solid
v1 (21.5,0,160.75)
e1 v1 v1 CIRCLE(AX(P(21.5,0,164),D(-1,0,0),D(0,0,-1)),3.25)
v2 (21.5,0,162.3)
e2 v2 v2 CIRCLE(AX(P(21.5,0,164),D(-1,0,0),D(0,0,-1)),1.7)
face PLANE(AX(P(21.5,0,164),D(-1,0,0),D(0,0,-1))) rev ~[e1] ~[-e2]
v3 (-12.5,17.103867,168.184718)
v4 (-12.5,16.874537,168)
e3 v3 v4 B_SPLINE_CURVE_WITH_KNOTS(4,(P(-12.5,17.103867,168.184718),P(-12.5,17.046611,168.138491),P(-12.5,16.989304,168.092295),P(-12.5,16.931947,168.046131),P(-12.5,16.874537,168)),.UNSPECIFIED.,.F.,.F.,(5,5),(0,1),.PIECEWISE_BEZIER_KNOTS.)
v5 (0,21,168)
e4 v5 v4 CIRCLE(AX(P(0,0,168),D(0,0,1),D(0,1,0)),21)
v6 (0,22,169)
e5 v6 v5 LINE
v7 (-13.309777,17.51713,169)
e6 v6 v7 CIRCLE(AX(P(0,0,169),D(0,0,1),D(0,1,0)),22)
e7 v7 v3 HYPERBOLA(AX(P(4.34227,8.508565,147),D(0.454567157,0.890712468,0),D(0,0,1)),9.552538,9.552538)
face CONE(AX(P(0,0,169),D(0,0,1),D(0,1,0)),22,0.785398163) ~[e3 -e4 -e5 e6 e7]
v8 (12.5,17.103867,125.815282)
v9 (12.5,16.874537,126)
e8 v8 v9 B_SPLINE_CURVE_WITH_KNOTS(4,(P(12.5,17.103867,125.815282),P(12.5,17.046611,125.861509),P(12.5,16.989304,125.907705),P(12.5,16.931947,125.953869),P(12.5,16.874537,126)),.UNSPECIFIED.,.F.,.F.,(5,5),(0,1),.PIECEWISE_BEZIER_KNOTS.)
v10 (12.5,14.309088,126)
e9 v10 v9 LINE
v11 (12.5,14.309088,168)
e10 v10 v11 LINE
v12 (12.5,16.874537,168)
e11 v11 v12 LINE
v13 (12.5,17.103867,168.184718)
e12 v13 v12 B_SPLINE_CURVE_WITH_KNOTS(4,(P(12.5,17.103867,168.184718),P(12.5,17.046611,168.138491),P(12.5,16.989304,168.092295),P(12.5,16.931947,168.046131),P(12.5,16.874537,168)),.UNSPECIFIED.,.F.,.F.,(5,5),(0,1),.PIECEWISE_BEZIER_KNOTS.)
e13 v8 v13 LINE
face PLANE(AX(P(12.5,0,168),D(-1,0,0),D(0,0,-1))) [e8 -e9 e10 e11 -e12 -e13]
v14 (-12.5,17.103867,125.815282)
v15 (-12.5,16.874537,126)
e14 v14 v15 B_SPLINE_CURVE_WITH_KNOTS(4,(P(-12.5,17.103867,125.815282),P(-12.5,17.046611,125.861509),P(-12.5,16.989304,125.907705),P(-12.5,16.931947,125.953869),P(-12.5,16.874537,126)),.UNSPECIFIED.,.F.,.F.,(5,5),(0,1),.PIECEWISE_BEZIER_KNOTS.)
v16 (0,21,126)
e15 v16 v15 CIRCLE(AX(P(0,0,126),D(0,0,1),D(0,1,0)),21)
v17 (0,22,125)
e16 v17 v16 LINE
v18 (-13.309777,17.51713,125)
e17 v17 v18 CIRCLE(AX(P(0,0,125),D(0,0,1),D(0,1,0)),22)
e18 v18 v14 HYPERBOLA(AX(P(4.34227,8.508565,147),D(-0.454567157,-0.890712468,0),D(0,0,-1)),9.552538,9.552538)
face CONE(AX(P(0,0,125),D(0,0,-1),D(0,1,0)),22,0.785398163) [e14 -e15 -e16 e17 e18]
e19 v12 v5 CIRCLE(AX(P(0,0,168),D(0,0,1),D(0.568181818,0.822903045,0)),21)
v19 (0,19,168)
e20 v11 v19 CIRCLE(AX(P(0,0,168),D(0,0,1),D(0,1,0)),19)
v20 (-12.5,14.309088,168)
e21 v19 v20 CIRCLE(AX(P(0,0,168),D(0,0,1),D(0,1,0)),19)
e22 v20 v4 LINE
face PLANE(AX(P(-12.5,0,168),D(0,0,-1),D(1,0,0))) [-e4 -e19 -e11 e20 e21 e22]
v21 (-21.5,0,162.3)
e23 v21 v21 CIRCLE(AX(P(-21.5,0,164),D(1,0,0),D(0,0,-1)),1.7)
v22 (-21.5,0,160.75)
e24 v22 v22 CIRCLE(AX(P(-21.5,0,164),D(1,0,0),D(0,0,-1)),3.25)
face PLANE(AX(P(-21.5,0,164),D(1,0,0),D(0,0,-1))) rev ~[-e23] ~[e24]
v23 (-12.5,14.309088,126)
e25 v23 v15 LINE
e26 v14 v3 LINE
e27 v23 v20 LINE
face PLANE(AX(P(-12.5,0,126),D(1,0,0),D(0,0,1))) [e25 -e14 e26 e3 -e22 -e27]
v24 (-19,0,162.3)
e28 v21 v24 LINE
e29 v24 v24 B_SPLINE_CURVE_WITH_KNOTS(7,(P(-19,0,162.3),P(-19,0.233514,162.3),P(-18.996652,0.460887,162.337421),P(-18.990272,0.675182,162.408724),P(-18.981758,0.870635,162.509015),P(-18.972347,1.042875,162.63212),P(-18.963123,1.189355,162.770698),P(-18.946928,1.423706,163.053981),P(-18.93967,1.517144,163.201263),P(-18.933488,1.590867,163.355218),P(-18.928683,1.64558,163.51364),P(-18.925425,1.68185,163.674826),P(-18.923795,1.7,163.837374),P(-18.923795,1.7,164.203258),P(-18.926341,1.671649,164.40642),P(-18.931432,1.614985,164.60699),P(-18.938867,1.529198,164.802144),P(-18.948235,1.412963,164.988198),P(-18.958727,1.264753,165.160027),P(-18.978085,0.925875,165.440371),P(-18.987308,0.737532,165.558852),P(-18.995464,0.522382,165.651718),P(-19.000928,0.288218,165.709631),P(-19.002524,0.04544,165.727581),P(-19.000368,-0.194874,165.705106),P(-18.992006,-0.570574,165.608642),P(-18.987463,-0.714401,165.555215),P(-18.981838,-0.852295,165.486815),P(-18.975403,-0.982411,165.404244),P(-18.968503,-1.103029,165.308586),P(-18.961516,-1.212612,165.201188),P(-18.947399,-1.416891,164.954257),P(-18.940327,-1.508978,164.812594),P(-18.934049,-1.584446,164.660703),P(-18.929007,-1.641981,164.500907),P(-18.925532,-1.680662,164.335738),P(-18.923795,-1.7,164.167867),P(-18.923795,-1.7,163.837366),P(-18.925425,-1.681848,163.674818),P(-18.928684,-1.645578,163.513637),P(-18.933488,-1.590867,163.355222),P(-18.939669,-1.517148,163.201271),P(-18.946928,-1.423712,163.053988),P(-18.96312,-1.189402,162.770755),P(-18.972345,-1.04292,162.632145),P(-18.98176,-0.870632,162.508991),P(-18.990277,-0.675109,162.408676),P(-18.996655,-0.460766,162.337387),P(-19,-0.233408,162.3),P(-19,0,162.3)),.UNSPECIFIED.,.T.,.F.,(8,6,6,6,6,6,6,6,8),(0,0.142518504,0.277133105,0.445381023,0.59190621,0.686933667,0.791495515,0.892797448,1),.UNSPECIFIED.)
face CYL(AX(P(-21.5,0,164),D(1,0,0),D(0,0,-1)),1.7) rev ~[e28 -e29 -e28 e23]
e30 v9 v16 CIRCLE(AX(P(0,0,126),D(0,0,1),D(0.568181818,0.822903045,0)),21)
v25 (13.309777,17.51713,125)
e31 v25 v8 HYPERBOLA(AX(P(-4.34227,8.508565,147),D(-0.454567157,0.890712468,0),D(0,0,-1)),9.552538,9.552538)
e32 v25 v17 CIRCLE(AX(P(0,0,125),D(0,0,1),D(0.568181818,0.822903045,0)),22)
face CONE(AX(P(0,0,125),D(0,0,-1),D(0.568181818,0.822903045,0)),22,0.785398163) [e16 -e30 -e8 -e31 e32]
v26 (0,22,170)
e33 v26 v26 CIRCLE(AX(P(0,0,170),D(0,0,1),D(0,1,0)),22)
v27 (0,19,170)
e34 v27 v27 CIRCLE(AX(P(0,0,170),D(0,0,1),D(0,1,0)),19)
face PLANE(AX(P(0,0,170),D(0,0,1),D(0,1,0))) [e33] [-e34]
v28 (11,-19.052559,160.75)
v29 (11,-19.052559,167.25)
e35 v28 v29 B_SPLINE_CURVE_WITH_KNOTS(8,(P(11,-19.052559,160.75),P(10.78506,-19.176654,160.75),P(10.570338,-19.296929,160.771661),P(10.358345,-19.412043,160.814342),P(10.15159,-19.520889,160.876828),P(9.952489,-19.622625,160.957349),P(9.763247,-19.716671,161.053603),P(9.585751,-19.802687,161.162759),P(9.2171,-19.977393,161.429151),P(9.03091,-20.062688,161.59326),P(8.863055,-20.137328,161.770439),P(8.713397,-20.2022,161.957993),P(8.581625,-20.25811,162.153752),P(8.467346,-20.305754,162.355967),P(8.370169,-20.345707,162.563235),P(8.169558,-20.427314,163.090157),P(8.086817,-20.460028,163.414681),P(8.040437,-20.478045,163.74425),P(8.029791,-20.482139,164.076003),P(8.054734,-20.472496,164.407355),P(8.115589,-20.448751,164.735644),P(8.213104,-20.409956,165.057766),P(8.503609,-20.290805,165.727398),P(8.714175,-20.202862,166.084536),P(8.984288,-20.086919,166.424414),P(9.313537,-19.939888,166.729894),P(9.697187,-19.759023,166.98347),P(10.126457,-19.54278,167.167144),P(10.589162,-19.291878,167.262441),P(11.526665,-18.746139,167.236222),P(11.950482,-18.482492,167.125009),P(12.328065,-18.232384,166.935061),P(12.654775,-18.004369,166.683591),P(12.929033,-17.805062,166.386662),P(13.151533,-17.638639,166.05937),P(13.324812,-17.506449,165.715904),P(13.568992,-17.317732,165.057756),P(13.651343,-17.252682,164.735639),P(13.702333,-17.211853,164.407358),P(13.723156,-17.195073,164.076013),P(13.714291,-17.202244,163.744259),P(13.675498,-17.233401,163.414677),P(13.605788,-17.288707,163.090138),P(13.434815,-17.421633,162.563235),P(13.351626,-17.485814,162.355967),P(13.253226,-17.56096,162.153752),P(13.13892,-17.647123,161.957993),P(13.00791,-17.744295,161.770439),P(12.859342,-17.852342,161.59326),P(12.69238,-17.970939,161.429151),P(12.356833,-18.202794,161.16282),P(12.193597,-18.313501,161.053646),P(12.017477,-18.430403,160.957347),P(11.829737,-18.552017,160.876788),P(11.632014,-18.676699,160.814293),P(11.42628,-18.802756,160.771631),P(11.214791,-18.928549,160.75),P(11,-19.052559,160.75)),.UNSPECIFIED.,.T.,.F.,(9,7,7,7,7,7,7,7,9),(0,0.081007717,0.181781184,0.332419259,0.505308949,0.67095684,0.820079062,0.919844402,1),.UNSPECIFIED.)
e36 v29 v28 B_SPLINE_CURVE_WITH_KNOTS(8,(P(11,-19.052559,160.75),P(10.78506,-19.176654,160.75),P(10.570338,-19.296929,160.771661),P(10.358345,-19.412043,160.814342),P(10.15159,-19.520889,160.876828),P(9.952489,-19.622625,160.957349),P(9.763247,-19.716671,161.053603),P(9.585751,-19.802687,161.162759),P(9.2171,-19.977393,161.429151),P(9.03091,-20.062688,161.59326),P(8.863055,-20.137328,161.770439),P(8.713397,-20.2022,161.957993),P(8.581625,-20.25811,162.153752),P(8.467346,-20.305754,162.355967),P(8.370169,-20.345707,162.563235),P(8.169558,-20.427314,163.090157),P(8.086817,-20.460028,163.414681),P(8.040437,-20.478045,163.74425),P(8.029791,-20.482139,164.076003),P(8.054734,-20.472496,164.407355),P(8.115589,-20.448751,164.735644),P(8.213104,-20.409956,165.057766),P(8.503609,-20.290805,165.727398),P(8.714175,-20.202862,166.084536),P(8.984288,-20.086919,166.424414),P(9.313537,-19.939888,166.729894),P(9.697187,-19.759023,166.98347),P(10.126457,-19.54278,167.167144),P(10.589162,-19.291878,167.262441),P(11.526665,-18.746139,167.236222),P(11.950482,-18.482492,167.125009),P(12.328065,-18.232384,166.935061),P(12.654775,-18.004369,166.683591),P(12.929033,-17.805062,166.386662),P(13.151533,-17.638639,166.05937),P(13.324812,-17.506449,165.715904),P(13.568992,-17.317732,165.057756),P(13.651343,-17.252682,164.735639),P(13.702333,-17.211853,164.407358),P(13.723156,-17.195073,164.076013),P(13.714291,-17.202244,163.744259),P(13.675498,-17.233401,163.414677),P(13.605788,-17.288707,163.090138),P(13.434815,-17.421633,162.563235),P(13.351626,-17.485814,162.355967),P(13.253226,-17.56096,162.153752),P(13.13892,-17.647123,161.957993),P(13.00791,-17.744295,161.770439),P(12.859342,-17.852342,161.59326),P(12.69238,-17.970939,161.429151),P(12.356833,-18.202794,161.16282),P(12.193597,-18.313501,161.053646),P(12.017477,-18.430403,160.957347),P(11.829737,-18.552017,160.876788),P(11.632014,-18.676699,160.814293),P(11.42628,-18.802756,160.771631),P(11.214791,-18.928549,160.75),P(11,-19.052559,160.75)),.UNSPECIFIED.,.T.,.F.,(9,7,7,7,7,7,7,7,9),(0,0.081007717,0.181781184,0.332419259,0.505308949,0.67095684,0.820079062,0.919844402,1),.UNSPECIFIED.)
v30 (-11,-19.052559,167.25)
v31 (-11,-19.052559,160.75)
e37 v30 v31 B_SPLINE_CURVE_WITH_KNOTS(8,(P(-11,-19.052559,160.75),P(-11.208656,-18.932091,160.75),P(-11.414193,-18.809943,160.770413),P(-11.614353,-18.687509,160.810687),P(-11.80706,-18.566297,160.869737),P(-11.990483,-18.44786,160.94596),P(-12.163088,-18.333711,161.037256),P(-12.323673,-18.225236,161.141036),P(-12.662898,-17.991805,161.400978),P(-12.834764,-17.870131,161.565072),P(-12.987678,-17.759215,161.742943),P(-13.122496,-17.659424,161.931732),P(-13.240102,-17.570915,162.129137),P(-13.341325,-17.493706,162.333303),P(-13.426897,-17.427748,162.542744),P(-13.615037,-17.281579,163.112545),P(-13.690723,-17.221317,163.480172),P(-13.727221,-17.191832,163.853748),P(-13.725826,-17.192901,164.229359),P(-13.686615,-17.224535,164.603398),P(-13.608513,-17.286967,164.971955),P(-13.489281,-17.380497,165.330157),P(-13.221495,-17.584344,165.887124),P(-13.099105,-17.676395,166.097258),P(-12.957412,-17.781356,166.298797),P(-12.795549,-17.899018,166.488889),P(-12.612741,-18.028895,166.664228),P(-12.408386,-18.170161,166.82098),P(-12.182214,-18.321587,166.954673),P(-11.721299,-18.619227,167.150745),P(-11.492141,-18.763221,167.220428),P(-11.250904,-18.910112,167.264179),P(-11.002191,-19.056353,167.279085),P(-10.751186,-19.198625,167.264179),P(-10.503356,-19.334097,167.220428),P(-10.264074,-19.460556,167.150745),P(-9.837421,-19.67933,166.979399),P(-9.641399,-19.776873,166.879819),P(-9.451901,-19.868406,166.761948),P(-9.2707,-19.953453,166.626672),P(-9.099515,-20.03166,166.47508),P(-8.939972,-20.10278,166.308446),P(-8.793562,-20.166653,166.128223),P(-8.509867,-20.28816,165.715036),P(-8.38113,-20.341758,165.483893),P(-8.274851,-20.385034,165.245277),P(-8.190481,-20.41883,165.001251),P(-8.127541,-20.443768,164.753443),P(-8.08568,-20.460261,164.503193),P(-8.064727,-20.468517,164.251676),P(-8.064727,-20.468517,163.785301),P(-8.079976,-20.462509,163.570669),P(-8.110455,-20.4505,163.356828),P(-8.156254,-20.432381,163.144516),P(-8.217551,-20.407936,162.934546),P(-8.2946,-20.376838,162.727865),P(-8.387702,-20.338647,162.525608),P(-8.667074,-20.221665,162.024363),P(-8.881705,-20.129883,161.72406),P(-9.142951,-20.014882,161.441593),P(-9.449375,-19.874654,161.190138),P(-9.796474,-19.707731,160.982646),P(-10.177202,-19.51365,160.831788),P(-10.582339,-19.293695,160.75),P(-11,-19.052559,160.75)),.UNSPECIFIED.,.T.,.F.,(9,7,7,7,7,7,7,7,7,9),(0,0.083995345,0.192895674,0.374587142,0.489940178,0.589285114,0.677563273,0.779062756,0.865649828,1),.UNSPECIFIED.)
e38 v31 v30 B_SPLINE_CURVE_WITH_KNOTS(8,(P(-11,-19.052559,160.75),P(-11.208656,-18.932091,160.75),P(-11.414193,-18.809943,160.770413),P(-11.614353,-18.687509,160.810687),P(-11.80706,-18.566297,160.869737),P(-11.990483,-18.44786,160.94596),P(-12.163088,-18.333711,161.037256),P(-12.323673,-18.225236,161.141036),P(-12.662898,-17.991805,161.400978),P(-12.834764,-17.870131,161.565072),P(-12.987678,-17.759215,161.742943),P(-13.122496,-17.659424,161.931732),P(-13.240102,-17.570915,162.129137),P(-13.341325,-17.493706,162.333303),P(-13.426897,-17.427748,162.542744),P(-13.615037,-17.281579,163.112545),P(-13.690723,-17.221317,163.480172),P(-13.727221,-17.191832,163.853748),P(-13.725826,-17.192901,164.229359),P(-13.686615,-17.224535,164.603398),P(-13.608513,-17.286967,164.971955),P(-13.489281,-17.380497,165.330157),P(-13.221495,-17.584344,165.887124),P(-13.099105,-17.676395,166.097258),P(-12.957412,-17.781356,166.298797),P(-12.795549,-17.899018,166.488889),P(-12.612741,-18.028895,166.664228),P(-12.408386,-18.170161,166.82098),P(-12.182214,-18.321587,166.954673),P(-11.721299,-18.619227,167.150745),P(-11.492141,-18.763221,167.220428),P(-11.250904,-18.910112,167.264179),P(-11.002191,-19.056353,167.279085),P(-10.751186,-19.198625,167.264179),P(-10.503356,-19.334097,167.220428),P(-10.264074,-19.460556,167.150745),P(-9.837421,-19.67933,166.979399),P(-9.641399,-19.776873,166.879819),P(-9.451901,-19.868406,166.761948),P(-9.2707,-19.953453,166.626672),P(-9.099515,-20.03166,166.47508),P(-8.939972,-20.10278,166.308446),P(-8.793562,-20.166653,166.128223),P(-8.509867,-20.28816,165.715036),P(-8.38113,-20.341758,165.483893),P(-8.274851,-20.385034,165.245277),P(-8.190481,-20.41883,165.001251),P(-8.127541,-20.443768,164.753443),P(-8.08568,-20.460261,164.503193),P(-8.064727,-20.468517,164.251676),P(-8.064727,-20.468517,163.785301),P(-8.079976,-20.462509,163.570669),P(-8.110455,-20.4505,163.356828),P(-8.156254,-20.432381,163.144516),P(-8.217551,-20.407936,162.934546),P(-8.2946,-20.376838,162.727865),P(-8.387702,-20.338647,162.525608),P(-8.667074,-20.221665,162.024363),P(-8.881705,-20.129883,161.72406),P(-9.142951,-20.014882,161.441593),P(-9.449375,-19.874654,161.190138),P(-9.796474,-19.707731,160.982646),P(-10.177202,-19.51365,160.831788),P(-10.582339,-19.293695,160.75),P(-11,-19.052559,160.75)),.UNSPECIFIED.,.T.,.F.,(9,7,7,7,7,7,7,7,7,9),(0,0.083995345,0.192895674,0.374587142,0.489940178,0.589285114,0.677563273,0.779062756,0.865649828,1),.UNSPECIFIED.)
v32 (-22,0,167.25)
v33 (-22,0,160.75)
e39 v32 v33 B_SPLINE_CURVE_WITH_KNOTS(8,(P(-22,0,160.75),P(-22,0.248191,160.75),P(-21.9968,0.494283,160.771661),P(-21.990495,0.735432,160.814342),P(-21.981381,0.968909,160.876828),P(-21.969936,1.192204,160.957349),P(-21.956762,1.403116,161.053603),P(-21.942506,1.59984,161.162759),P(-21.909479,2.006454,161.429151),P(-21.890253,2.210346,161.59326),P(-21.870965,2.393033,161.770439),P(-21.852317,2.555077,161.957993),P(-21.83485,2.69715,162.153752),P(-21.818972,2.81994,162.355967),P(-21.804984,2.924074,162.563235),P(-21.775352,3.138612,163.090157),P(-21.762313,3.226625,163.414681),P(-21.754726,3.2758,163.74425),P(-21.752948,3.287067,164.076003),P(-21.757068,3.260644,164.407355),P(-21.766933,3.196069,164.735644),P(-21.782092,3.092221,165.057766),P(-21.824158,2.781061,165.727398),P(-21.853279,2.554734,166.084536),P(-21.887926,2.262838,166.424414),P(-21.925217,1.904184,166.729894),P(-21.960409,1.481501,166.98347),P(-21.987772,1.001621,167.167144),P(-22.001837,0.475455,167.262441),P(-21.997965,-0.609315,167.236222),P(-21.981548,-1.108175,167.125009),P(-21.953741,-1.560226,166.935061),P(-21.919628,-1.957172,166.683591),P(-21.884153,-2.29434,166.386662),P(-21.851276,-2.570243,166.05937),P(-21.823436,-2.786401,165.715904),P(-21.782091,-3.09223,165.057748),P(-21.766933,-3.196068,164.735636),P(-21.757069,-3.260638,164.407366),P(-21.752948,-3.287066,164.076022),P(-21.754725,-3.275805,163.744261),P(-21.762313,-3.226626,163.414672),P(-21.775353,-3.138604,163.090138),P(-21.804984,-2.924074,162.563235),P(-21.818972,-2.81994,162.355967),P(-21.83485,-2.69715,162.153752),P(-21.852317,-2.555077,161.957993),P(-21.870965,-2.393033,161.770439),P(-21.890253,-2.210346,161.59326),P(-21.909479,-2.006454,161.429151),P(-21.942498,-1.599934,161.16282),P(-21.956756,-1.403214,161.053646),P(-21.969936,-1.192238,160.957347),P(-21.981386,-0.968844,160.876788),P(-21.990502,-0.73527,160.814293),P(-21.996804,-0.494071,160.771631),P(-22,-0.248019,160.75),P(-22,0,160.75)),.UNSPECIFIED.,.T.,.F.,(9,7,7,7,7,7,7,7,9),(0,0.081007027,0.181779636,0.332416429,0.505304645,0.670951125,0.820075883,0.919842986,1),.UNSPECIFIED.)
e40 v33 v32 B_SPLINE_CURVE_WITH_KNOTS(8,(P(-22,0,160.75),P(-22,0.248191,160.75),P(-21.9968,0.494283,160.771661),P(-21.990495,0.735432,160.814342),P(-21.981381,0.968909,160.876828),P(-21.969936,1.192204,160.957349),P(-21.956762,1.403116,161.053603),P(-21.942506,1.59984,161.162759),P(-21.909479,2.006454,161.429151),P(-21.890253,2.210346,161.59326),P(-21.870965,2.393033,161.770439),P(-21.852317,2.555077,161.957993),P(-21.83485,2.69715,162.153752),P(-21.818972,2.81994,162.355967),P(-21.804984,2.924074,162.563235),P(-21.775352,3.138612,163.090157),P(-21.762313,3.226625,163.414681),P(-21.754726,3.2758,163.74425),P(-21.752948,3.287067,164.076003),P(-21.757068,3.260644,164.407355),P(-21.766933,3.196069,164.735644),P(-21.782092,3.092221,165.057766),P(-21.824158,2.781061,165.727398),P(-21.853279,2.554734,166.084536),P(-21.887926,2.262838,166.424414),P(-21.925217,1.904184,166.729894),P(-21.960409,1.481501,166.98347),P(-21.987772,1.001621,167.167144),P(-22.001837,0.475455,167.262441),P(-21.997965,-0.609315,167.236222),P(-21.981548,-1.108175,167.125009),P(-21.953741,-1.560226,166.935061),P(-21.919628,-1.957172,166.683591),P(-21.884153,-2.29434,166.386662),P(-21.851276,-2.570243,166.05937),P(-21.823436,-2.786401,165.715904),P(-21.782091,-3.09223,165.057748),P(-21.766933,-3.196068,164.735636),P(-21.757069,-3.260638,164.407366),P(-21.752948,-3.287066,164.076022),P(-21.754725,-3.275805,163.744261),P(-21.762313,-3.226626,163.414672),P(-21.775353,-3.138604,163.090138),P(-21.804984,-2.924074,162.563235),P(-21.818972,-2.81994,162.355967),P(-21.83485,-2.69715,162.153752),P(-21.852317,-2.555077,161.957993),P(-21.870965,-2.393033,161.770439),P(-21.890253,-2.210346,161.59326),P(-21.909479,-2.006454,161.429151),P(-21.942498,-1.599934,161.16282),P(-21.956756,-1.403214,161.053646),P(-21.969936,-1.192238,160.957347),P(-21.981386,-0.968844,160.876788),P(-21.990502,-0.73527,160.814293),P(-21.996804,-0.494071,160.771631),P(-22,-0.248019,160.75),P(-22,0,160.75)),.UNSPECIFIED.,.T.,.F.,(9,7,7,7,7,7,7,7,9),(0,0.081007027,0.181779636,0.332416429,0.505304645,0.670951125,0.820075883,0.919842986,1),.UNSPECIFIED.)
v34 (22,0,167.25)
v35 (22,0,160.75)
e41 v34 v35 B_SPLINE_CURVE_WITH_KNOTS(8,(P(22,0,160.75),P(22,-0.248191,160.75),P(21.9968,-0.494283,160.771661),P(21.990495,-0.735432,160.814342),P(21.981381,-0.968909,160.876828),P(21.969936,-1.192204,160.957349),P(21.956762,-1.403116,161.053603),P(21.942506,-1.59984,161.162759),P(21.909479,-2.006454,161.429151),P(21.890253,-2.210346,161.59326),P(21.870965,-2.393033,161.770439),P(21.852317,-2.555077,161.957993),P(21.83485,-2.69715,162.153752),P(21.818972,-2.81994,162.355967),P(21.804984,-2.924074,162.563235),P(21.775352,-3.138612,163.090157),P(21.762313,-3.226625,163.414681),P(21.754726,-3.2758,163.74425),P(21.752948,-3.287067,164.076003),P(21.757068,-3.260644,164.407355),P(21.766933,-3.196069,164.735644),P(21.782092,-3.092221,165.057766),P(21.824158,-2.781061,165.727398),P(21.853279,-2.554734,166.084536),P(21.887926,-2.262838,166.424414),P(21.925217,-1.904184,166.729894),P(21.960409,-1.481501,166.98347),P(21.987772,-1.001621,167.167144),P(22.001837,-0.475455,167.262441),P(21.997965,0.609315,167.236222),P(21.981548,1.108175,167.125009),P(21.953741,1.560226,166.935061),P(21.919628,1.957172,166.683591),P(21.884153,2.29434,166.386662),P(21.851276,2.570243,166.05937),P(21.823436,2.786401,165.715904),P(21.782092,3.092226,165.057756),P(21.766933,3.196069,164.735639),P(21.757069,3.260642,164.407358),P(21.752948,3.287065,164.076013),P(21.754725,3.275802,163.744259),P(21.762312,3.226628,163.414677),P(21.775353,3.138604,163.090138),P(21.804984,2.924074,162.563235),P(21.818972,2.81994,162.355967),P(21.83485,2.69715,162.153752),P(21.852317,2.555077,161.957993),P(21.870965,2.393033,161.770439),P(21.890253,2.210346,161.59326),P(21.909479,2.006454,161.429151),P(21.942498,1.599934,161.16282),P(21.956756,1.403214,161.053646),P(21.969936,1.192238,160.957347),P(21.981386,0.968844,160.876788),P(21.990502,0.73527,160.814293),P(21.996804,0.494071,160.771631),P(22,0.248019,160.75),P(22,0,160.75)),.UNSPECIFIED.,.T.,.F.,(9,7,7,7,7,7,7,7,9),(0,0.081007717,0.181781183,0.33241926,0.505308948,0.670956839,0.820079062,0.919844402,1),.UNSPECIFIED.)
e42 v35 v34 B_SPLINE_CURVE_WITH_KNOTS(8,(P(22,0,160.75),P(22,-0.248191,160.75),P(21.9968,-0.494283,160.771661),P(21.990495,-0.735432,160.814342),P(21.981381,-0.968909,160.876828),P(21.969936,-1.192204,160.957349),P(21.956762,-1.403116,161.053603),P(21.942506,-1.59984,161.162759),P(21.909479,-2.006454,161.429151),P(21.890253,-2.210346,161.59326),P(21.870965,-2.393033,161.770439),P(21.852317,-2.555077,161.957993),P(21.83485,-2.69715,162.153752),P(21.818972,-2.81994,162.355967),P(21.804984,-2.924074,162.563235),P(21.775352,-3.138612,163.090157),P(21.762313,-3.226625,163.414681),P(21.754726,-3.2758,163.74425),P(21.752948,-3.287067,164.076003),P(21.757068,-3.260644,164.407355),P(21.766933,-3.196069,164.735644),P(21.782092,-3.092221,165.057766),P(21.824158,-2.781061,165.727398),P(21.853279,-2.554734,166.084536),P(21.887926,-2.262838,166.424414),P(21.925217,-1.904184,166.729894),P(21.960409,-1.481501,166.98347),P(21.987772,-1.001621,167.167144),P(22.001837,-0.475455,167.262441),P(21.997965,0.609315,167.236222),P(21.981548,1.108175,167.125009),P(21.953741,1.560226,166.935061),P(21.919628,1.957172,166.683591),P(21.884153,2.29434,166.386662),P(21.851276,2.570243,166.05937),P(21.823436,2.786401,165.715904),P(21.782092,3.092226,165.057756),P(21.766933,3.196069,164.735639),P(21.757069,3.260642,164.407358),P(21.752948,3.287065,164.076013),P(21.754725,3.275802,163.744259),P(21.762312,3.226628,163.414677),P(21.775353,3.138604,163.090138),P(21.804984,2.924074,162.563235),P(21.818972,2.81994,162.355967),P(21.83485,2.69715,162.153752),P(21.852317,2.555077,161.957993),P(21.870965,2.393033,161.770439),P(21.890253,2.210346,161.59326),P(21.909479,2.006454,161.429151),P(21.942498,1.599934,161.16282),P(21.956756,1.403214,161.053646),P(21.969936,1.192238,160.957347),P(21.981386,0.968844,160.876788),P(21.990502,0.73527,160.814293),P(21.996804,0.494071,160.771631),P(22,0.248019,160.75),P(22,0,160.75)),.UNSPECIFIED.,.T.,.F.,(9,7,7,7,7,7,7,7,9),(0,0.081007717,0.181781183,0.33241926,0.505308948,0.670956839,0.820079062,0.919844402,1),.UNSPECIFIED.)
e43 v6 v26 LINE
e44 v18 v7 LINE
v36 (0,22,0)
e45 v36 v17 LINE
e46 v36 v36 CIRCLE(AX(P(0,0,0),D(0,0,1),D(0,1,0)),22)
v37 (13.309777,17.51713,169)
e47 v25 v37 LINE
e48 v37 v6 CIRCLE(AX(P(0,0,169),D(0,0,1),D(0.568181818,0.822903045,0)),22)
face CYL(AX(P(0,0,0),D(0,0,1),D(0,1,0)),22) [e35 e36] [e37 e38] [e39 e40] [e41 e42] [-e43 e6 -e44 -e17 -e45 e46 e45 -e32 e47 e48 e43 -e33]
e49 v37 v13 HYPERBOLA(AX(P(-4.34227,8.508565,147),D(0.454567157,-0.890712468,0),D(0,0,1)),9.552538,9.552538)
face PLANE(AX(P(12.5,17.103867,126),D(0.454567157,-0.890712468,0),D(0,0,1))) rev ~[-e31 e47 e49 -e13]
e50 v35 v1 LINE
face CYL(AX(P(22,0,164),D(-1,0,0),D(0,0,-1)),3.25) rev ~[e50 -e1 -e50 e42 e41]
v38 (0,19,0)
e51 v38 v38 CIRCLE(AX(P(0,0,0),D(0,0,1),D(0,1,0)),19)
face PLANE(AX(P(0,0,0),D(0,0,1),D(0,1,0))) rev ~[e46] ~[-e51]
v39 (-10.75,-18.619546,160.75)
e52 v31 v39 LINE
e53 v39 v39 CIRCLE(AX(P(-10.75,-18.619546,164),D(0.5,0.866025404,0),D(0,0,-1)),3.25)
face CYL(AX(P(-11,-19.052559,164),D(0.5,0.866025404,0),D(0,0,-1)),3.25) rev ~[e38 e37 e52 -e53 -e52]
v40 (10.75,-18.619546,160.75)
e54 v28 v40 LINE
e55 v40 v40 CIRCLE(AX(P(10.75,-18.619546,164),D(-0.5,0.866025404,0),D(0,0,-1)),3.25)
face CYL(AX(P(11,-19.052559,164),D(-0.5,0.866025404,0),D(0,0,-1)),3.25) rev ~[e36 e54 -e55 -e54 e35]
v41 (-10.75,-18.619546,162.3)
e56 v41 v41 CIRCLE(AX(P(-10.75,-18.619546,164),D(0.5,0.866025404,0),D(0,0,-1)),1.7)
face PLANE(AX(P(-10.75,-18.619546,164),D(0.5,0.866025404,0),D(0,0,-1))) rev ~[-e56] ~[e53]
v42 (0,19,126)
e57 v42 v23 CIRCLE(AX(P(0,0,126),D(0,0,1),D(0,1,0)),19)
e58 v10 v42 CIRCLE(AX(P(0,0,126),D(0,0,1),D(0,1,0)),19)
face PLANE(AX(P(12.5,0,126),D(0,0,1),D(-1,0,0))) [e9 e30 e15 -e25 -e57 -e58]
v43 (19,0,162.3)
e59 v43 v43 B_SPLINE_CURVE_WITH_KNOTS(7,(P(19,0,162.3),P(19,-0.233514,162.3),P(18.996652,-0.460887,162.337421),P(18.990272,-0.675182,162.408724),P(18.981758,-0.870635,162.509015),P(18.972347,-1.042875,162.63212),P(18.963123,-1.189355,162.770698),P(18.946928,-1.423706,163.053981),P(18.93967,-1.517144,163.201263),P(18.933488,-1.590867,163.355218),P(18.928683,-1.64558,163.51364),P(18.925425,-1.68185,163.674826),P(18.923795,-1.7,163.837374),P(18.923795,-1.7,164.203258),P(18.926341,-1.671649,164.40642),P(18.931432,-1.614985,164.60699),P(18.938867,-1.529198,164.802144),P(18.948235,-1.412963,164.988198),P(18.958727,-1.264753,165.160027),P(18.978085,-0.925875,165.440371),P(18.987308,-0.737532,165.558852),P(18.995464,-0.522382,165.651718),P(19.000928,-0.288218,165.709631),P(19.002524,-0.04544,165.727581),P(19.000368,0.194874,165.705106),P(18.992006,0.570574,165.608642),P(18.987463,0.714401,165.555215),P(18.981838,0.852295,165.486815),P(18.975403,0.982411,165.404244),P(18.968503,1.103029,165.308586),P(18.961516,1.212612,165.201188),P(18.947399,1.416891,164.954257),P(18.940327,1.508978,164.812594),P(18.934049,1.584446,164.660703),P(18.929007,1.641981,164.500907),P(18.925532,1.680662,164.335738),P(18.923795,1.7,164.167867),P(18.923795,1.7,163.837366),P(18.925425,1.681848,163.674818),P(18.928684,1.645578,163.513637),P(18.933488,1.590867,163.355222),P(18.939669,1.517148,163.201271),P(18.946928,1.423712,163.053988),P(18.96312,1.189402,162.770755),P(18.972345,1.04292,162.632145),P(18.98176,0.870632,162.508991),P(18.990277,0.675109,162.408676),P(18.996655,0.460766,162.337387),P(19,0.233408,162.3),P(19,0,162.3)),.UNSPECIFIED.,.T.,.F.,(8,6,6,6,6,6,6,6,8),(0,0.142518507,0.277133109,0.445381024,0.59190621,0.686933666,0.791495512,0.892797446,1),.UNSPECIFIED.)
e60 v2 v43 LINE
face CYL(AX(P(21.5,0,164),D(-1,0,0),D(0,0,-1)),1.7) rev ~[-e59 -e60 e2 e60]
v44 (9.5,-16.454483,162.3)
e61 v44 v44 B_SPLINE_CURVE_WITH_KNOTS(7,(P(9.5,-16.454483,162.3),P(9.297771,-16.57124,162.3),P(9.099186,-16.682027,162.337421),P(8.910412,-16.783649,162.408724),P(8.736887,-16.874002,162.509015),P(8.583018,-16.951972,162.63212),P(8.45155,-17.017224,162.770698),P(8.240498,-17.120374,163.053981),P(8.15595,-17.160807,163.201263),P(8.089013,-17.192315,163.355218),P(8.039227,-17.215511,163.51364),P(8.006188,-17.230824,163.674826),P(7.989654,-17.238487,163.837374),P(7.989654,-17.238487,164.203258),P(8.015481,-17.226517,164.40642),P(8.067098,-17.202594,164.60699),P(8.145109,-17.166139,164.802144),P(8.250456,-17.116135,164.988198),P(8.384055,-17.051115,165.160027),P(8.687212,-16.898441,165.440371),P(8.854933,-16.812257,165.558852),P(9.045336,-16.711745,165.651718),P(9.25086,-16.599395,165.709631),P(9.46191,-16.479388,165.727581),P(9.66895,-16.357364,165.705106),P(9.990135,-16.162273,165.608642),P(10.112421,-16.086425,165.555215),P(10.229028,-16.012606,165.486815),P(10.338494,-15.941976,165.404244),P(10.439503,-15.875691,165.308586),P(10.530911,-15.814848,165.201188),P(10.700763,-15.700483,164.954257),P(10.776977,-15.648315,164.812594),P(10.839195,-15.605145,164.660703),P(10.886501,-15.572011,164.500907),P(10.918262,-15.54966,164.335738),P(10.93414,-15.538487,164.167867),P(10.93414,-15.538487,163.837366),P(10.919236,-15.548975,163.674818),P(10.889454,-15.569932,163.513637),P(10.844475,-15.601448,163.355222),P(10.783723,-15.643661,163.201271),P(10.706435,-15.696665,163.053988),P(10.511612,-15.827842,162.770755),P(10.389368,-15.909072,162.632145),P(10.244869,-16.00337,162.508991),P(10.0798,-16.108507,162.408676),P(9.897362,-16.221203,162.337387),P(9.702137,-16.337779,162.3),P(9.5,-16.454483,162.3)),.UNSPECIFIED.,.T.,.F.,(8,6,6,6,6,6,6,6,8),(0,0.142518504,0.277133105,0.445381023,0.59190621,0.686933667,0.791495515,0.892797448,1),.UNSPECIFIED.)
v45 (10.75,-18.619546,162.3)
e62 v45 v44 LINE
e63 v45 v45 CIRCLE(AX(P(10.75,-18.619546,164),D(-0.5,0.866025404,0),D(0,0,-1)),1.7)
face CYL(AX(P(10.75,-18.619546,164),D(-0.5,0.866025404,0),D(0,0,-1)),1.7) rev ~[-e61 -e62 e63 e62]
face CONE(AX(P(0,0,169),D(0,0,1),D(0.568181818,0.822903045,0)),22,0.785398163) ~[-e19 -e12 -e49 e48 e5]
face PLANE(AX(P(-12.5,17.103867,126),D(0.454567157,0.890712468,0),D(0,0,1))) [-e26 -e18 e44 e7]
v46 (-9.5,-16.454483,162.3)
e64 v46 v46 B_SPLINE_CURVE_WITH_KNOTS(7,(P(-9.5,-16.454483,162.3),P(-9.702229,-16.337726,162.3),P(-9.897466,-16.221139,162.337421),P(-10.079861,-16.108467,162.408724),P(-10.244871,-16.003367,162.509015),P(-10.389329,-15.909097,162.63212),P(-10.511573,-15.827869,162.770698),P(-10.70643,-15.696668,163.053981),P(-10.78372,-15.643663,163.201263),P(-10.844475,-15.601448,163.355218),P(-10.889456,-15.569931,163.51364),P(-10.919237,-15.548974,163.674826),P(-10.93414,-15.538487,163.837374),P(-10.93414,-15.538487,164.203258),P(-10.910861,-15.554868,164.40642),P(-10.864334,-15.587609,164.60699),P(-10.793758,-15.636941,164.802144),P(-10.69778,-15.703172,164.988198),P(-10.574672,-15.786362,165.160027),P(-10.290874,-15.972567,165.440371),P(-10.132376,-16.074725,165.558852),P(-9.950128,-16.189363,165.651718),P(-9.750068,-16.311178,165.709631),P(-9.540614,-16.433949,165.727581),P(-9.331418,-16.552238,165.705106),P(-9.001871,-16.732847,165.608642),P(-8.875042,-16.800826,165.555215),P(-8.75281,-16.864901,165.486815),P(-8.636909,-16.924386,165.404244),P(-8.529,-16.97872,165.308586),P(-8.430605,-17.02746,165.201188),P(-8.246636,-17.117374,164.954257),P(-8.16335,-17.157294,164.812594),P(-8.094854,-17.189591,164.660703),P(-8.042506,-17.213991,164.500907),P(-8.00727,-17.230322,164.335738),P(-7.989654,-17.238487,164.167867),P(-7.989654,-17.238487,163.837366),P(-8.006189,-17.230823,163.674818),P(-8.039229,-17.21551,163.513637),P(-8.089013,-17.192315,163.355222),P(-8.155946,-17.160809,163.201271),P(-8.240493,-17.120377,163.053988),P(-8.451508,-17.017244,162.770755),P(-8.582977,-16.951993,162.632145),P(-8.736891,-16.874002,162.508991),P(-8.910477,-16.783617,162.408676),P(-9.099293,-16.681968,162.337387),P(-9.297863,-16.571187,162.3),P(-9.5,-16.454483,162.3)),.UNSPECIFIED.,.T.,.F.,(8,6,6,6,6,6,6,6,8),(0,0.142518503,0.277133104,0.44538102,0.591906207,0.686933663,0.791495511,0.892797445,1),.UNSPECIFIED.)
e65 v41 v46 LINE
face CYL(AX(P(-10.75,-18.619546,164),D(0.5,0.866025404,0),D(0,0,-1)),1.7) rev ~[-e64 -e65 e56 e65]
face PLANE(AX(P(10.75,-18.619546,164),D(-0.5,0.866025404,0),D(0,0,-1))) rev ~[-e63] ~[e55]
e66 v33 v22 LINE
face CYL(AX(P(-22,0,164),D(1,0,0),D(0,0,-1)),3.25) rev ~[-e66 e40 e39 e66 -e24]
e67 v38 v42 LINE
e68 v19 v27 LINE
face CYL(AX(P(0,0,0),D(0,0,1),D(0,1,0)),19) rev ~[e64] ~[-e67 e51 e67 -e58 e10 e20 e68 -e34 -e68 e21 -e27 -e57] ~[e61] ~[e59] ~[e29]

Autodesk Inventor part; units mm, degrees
ref_plane "XY Plane" through (0, 0, 0) normal (0, 0, 1) x (1, 0, 0)
sketch "Esquisse1" plane through (0, 0, 0) normal (1, 0, 0) x (0, 1, 0)
  line L0 (0, 0) -> (0, 594.5025)
  line L1 (22, 0) -> (22, 170)
  line L2 (19, 0) -> (19, 170)
  line L3 (22, 170) -> (19, 170)
  line L4 (22, 0) -> (19, 0)
  dimension "d0" = 38
  dimension "d3" = 3
  dimension "d58" = 170
revolve "Révolution1" add sketch "Esquisse1" angle 360 about axis through (0, 0, 0) along (0, 0, 1)
sketch "Esquisse3" plane through (0, 0, 0) normal (0, 1, 0) x (-1, 0, 0)
  line L0 (-19, 170) -> (19, 170) projected
  line L1 (12.5, 168) -> (-12.5, 168)
  line L2 (-12.5, 168) -> (-12.5, 126)
  line L3 (-12.5, 126) -> (12.5, 126)
  line L4 (12.5, 126) -> (12.5, 168)
  point P0 (0, 0)
  point P1 (0, 168)
  point P2 (0, 170)
  dimension "d108" = 42
  dimension "d109" = 2
  dimension "d110" = 25
extrude "Extrusion2" cut sketch "Esquisse3" along normal up to surface
ref_plane "Plan de construction2" through (22, 0, 85) normal (1, 0, 0) x (0, 1, 0)
sketch "Esquisse4" plane through (22, 0, 85) normal (1, 0, 0) x (0, 1, 0)
  line L0 (-22, 85) -> (22, 85) projected
  point P0 (0, -85)
  point P1 (0, 79)
  dimension "d24" = 6
hole "Perçage1" at (22, 0, 164) direction (-1, 0, 0) diameter 3.4 depth 8 counterbore diameter 6.5 counterbore depth 0.5 clearance for "Vis d'assemblage à six pans creux ISO 4762" size "M3" standard "ISO"
pattern_circular "Réseau circulaire2" count 4 over 180 about axis through (0, 0, -10) along (0, 0, -1) of "Perçage1"
chamfer "Chanfrein2" distance 1 angle 45 6 edges at (-12.5, 18.1039, 147) (-6.5466, 21.0034, 126) (6.5466, 21.0034, 126) (12.5, 18.1039, 147) (-6.5466, 21.0034, 168) (6.5466, 21.0034, 168)
ref_plane "Plan de construction3" through (0, -22, 85) normal (0, 1, 0) x (-1, 0, 0)
thread "Filetage3" size "M38x1.5" class "6H" standard "ISO Metric profile" length 10
properties part number "reservoir_guide"
